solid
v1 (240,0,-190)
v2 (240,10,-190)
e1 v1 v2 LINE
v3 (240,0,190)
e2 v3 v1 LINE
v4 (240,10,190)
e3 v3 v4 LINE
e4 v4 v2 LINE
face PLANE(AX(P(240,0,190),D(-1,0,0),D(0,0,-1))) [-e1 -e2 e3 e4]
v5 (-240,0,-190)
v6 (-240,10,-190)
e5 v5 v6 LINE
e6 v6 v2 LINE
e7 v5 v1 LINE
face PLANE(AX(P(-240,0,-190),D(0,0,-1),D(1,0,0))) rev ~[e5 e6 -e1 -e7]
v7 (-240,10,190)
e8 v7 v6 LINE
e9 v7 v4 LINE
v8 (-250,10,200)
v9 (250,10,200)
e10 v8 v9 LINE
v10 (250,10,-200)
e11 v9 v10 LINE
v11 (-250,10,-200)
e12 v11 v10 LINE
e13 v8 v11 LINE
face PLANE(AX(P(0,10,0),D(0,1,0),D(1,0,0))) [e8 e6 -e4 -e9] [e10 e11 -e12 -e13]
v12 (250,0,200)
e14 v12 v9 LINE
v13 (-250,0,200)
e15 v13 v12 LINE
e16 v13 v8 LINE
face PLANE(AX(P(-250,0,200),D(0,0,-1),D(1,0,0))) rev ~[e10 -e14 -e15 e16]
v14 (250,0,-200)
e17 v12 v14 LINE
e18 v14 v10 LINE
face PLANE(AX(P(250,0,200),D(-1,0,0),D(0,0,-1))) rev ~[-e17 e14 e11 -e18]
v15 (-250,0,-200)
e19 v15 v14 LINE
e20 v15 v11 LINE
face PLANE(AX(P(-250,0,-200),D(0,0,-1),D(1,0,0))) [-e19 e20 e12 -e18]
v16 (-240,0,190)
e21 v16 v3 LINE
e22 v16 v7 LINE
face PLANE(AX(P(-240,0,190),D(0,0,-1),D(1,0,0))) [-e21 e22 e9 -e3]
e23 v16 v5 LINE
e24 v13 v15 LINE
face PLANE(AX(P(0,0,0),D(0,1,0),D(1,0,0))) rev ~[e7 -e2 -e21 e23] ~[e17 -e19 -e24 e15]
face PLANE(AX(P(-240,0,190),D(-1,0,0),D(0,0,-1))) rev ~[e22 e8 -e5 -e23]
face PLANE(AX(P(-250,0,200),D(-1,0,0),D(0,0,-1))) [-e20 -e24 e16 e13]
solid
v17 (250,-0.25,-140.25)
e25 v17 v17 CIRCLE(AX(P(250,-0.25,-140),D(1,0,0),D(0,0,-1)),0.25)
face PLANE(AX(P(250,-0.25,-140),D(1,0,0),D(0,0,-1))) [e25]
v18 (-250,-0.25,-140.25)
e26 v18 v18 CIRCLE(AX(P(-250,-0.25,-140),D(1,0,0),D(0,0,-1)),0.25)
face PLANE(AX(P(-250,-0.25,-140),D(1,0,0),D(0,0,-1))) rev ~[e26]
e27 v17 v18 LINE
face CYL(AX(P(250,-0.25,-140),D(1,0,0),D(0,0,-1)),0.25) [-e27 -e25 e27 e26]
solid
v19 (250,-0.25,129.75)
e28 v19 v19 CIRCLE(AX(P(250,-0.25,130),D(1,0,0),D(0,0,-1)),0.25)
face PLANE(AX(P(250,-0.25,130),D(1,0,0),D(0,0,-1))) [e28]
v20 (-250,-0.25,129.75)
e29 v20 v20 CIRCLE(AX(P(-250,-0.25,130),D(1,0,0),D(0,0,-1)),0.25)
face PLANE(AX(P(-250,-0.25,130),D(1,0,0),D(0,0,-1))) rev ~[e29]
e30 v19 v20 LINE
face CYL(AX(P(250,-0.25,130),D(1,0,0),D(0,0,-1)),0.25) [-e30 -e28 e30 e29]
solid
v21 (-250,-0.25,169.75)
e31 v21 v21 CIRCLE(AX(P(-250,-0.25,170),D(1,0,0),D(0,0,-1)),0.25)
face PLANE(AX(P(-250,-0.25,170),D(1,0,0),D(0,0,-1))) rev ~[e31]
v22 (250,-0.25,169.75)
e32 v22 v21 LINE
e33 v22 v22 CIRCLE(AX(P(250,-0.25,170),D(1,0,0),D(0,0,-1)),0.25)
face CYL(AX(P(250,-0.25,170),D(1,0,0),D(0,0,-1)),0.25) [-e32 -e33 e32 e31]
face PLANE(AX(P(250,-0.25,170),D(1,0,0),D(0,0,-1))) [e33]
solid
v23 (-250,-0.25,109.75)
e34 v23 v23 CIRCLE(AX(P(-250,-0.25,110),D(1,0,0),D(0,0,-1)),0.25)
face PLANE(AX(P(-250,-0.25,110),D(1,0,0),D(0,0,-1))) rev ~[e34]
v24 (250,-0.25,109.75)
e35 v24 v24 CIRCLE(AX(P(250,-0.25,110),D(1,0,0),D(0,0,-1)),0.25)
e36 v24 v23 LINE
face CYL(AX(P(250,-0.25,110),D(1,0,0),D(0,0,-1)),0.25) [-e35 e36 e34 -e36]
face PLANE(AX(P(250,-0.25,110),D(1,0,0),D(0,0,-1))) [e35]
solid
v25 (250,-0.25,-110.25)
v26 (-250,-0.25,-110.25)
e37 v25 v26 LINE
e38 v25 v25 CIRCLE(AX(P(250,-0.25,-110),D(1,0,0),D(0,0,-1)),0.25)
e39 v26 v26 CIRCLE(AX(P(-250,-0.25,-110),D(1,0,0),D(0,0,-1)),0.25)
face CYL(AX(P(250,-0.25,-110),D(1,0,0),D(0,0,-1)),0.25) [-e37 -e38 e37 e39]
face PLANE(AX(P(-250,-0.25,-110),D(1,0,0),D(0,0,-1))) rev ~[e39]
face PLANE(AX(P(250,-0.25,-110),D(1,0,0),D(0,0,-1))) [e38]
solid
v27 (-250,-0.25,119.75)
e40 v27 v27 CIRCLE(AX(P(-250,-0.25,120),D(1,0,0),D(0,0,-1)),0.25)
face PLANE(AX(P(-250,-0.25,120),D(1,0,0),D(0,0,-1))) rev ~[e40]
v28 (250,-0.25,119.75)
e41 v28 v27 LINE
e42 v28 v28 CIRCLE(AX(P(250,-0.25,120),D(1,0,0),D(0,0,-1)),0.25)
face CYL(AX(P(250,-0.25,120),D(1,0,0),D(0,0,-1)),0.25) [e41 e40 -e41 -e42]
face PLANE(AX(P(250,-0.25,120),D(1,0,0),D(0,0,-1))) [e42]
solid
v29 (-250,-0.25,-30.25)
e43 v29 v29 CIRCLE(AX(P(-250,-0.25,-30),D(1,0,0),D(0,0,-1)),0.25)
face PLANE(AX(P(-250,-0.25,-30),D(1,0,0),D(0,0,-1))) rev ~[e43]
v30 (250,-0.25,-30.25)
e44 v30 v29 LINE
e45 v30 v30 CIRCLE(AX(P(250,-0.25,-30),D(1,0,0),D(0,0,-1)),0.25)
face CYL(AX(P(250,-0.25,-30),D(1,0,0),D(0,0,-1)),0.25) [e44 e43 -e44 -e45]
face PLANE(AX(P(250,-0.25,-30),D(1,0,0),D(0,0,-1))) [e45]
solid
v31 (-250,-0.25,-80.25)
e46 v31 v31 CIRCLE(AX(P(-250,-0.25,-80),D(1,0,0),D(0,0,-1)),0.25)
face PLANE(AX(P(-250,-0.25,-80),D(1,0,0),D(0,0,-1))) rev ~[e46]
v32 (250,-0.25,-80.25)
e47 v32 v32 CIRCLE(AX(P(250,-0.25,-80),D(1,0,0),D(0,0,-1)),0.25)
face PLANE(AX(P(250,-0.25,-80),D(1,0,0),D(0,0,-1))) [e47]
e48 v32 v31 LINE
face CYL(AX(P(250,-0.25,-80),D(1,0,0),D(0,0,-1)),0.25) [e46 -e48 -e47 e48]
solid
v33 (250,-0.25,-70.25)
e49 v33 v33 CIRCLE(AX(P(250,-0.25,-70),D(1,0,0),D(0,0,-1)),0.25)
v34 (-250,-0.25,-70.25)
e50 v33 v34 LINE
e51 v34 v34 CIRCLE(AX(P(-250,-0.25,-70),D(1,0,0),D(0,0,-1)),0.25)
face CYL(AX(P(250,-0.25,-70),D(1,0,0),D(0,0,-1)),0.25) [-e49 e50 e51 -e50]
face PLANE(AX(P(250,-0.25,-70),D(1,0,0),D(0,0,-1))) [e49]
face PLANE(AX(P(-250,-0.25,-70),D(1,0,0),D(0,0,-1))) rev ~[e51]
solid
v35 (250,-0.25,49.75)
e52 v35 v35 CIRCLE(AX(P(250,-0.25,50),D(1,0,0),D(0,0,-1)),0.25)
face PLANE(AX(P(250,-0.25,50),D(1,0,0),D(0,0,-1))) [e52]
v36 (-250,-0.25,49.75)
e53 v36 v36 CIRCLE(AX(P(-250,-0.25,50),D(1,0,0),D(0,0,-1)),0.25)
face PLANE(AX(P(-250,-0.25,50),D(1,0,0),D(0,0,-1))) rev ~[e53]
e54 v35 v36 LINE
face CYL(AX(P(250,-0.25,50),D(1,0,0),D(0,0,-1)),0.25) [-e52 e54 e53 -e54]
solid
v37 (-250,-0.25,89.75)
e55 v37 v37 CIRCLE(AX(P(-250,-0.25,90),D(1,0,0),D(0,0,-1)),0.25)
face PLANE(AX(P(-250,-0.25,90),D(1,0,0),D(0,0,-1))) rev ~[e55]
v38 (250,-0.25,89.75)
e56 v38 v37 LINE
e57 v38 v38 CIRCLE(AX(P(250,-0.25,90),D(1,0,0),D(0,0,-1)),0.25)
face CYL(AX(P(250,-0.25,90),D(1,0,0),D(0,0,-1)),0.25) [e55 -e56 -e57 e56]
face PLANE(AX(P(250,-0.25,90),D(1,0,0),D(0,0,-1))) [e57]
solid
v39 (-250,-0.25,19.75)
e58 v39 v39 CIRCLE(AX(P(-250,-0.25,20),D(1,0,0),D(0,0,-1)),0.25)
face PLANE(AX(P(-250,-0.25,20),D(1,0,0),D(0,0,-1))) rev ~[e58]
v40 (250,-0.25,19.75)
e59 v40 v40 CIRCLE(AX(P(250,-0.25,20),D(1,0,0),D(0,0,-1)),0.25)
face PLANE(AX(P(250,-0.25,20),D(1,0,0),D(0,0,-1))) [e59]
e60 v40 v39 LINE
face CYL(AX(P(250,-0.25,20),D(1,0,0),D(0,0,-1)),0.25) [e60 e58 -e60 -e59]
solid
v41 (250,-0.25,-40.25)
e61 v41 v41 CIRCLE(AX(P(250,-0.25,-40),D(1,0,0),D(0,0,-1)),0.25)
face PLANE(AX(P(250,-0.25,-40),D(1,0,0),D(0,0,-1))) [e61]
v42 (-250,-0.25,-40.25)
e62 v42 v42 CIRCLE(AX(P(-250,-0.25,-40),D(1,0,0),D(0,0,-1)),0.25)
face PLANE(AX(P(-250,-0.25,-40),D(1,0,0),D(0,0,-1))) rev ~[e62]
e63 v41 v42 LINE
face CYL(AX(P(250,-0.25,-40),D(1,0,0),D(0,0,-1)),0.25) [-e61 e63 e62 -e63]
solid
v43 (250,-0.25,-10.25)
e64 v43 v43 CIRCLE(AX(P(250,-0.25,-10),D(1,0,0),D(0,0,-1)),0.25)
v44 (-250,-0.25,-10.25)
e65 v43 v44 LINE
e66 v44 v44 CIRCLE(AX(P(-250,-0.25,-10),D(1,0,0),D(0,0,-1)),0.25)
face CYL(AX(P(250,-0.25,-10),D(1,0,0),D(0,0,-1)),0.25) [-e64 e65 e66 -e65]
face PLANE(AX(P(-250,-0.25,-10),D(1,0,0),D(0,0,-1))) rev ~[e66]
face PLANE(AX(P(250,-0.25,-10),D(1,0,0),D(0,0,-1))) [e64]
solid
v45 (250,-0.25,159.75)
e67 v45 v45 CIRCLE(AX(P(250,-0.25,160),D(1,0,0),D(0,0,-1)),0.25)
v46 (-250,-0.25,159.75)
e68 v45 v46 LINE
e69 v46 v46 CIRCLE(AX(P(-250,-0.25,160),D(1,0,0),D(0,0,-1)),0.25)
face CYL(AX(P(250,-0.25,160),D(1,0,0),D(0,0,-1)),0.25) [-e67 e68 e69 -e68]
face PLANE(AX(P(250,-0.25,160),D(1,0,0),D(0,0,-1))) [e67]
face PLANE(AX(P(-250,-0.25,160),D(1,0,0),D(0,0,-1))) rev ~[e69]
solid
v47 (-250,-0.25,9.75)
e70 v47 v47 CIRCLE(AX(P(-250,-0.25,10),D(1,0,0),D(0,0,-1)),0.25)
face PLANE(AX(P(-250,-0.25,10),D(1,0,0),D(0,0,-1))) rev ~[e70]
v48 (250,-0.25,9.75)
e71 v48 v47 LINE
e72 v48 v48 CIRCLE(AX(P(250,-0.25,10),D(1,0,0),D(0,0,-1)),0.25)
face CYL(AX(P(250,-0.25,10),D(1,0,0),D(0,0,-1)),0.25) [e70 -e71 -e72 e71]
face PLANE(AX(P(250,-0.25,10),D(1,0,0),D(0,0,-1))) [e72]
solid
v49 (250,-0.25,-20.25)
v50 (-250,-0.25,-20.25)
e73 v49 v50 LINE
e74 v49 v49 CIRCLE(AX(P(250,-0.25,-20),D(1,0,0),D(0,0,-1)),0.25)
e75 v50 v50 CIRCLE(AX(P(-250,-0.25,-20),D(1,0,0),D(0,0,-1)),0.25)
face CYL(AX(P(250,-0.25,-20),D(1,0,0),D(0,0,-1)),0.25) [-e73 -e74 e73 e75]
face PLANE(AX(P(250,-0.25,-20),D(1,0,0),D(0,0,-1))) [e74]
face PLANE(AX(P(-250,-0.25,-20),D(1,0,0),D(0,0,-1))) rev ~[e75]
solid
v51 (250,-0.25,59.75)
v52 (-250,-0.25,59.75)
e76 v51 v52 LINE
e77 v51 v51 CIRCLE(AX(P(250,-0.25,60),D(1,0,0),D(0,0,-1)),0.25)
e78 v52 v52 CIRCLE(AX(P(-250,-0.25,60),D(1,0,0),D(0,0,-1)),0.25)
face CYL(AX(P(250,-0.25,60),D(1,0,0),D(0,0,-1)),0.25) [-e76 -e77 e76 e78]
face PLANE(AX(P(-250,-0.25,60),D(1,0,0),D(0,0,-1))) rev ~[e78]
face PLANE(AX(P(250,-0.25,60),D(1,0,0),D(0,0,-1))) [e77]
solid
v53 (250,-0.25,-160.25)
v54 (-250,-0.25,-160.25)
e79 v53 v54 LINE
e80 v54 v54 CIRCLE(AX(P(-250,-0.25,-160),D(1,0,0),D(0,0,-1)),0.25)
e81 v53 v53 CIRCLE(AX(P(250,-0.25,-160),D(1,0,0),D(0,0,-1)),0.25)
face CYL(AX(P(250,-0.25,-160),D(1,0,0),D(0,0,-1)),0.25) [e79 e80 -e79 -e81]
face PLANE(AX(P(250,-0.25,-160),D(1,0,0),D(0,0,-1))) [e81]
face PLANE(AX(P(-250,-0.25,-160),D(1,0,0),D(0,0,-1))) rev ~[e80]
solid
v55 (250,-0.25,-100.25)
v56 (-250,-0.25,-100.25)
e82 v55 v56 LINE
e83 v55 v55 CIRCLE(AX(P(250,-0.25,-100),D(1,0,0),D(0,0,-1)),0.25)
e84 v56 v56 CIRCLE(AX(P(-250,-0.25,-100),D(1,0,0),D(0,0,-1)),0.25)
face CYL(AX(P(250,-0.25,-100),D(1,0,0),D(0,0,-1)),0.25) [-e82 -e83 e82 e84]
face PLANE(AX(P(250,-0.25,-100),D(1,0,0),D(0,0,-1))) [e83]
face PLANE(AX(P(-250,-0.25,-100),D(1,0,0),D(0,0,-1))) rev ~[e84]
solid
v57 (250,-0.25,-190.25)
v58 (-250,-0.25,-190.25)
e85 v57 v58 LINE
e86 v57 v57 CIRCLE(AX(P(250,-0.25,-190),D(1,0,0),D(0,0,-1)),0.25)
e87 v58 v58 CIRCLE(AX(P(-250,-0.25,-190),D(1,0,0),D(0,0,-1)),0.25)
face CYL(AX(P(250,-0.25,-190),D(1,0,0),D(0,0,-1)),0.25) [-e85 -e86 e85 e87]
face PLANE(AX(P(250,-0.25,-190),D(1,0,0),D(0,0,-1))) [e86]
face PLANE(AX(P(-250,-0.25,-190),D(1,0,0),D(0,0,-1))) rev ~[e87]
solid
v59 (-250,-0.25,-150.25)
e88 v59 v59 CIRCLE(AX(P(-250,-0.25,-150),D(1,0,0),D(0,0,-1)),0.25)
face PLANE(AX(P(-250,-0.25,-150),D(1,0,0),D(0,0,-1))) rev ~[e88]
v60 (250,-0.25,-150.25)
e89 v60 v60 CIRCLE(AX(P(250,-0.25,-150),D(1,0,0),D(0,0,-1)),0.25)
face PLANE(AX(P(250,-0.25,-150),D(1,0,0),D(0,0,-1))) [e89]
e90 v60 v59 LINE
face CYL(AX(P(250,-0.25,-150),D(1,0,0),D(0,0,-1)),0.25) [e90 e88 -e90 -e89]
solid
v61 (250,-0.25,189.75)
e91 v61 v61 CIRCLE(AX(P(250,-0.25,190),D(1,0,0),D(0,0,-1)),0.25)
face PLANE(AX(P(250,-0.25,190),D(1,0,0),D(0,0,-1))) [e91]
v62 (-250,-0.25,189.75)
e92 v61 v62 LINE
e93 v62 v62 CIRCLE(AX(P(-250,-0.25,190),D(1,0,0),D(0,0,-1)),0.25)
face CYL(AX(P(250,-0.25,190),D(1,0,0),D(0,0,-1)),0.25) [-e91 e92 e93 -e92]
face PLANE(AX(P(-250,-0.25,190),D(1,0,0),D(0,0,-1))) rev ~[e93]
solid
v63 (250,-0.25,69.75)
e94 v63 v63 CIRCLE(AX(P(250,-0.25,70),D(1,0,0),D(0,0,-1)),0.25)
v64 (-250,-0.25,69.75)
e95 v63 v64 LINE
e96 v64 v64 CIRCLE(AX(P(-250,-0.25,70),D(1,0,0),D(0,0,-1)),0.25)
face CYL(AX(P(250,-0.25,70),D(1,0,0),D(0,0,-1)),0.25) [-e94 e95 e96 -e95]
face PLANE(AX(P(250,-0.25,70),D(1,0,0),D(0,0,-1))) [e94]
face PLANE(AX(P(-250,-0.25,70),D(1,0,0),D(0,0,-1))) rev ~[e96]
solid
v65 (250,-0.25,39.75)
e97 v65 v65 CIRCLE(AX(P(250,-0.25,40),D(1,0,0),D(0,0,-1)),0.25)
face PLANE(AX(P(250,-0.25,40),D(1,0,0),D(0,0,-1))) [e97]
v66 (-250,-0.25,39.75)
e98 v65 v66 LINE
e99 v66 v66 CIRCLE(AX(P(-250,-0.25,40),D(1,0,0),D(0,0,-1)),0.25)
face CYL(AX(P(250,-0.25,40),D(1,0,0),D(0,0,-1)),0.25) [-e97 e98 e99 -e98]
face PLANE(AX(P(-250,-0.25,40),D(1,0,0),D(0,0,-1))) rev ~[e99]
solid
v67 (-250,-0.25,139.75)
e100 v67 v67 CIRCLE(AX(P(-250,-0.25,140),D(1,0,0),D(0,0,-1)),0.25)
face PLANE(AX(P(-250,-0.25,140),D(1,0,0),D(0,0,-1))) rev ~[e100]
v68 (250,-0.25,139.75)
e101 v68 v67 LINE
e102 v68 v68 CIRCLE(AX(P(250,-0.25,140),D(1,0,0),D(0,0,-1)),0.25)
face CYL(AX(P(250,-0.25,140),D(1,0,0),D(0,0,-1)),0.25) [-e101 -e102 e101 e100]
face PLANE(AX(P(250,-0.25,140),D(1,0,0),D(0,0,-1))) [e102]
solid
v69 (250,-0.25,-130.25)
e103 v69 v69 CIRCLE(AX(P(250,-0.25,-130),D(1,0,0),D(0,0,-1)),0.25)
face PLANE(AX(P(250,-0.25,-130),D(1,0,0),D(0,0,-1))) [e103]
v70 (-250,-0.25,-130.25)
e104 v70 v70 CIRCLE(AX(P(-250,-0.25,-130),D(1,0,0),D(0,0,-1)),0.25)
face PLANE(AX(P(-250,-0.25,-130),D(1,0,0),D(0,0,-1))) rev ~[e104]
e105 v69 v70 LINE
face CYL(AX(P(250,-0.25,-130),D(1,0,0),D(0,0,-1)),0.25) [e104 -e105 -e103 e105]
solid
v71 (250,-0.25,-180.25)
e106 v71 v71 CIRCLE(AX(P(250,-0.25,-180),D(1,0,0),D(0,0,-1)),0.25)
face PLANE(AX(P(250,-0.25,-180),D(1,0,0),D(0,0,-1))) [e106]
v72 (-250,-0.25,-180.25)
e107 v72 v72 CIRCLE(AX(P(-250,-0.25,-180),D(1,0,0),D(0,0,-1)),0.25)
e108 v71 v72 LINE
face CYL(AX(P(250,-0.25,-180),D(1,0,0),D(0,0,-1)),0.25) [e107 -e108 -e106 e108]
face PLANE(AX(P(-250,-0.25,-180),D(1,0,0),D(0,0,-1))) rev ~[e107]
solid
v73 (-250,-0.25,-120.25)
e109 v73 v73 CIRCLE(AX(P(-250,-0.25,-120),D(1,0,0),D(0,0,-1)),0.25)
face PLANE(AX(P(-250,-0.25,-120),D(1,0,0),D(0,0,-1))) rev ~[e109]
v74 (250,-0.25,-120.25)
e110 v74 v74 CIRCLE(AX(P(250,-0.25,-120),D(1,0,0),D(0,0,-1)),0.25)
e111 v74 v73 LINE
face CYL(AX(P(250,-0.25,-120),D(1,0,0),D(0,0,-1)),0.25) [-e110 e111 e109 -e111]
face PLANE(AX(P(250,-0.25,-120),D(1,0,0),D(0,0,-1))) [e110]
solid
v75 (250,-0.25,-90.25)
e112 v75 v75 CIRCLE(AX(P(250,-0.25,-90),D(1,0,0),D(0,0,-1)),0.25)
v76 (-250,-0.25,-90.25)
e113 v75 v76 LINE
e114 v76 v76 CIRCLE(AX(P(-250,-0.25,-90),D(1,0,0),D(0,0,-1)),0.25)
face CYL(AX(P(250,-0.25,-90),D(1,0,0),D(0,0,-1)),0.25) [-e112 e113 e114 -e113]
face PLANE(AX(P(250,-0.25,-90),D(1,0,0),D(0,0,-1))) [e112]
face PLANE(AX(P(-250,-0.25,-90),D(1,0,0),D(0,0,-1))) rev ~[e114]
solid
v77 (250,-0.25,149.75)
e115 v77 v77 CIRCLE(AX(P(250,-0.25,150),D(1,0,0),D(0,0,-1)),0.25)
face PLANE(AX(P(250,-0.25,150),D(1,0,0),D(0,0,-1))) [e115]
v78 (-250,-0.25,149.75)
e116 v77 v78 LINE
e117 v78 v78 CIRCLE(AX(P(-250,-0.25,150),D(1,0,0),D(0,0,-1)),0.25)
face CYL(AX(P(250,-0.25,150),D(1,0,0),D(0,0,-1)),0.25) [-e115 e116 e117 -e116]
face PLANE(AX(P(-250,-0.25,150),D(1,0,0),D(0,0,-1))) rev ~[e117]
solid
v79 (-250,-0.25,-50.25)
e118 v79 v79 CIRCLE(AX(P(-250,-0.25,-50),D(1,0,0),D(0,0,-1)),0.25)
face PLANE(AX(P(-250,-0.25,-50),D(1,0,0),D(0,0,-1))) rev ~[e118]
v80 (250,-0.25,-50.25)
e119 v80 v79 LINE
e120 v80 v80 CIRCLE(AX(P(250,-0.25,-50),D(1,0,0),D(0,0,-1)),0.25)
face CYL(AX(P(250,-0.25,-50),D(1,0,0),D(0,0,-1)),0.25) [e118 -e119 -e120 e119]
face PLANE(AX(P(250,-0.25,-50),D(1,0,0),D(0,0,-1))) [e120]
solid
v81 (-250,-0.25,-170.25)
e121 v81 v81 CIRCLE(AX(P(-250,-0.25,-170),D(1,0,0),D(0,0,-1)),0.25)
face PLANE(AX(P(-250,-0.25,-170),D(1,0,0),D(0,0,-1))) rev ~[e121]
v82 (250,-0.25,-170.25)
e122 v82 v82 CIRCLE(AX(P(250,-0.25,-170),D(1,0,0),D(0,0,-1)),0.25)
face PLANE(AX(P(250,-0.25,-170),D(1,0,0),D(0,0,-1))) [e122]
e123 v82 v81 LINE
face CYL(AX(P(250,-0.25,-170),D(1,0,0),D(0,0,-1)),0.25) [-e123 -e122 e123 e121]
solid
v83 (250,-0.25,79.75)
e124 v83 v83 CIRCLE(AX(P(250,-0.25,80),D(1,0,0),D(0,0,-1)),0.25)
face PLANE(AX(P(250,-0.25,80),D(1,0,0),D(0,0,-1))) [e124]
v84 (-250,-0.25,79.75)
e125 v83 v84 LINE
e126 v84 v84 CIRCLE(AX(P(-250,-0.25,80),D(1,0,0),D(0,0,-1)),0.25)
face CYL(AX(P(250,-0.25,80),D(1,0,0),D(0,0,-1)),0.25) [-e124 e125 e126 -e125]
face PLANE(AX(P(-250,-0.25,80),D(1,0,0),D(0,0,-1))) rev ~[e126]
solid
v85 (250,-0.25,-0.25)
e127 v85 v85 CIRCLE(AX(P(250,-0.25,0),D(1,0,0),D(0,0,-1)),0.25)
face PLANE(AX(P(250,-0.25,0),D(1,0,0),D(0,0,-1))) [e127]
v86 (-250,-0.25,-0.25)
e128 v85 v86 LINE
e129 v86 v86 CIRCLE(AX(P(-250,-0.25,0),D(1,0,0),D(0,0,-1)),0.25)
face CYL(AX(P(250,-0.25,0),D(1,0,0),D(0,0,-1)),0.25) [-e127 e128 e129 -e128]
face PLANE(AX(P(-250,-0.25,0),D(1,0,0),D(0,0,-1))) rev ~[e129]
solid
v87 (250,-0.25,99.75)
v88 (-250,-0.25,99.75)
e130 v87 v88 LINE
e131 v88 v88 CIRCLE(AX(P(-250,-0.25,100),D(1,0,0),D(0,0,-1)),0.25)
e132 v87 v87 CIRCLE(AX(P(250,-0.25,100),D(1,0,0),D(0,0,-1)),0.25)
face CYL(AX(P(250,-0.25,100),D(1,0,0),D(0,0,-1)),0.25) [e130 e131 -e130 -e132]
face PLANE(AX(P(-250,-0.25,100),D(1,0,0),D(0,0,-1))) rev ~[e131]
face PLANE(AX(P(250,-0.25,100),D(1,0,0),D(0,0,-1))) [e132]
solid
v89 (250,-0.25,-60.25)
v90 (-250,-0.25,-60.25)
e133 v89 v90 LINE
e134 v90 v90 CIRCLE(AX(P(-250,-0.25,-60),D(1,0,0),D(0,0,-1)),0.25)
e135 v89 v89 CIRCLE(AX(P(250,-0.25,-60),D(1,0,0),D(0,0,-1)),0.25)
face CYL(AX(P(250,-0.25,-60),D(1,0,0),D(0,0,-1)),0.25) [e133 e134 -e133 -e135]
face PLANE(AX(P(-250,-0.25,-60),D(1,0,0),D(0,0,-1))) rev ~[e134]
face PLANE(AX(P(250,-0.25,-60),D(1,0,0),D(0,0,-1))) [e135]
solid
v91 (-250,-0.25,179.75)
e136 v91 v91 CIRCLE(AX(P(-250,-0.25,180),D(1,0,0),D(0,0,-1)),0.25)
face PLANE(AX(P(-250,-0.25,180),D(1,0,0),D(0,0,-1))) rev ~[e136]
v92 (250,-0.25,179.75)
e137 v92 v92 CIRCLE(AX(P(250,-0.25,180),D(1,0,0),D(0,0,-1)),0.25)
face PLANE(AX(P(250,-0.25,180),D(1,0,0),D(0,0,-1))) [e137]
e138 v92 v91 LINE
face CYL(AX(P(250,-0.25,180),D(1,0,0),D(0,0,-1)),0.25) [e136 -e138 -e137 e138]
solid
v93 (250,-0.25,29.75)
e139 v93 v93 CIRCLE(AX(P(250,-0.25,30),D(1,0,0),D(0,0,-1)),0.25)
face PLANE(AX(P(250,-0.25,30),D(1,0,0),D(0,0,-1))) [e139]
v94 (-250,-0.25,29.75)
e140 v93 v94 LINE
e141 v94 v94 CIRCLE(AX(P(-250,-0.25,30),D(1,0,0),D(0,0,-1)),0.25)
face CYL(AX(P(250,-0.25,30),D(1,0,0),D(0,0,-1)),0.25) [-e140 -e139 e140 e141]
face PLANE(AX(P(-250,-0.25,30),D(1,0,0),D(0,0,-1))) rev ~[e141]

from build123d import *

# Parameters (mm, degrees)
SKETCH1_W              = 500
SKETCH1_H              = 400
SKETCH1_W_2            = 480
SKETCH1_H_2            = 380
BOSS_EXTRUDE1_DEPTH    = 10
SKETCH3_R              = 0.25
BOSS_EXTRUDE2_DEPTH    = 500
BOSS_EXTRUDE2_2_DEPTH  = 500
BOSS_EXTRUDE2_3_DEPTH  = 500
BOSS_EXTRUDE2_4_DEPTH  = 500
BOSS_EXTRUDE2_5_DEPTH  = 500
BOSS_EXTRUDE2_6_DEPTH  = 500
BOSS_EXTRUDE2_7_DEPTH  = 500
BOSS_EXTRUDE2_8_DEPTH  = 500
BOSS_EXTRUDE2_9_DEPTH  = 500
BOSS_EXTRUDE2_10_DEPTH = 500
BOSS_EXTRUDE2_11_DEPTH = 500
BOSS_EXTRUDE2_12_DEPTH = 500
BOSS_EXTRUDE2_13_DEPTH = 500
BOSS_EXTRUDE2_14_DEPTH = 500
BOSS_EXTRUDE2_15_DEPTH = 500
BOSS_EXTRUDE2_16_DEPTH = 500
BOSS_EXTRUDE2_17_DEPTH = 500
BOSS_EXTRUDE2_18_DEPTH = 500
BOSS_EXTRUDE2_19_DEPTH = 500
BOSS_EXTRUDE2_20_DEPTH = 500
BOSS_EXTRUDE2_21_DEPTH = 500
BOSS_EXTRUDE2_22_DEPTH = 500
BOSS_EXTRUDE2_23_DEPTH = 500
BOSS_EXTRUDE2_24_DEPTH = 500
BOSS_EXTRUDE2_25_DEPTH = 500
BOSS_EXTRUDE2_26_DEPTH = 500
BOSS_EXTRUDE2_27_DEPTH = 500
BOSS_EXTRUDE2_28_DEPTH = 500
BOSS_EXTRUDE2_29_DEPTH = 500
BOSS_EXTRUDE2_30_DEPTH = 500
BOSS_EXTRUDE2_31_DEPTH = 500
BOSS_EXTRUDE2_32_DEPTH = 500
BOSS_EXTRUDE2_33_DEPTH = 500
BOSS_EXTRUDE2_34_DEPTH = 500
BOSS_EXTRUDE2_35_DEPTH = 500
BOSS_EXTRUDE2_36_DEPTH = 500
BOSS_EXTRUDE2_37_DEPTH = 500
BOSS_EXTRUDE2_38_DEPTH = 500
BOSS_EXTRUDE2_39_DEPTH = 500


with BuildPart() as part:
    # Sketch1 → Boss-Extrude1 (new body)
    with BuildSketch(Plane(origin=(0, 0, 0), x_dir=(1, 0, 0), z_dir=(0, 1, 0))):
        Rectangle(SKETCH1_W, SKETCH1_H)
        Rectangle(SKETCH1_W_2, SKETCH1_H_2, mode=Mode.SUBTRACT)
    extrude(amount=BOSS_EXTRUDE1_DEPTH)


with BuildPart() as body_2:
    # Sketch3 → Boss-Extrude2 (new body)
    with BuildSketch(Plane(origin=(250, 0, 0), x_dir=(0, 0, -1), z_dir=(1, 0, 0))):
        with Locations((0, -0.25)):
            Circle(SKETCH3_R)
    extrude(amount=-BOSS_EXTRUDE2_DEPTH)


with BuildPart() as body_3:
    # Sketch3 → Boss-Extrude2 2 (new body)
    with BuildSketch(Plane(origin=(250, 0, 0), x_dir=(0, 0, -1), z_dir=(1, 0, 0))):
        with Locations((-10, -0.25)):
            Circle(SKETCH3_R)
    extrude(amount=-BOSS_EXTRUDE2_2_DEPTH)


with BuildPart() as body_4:
    # Sketch3 → Boss-Extrude2 3 (new body)
    with BuildSketch(Plane(origin=(250, 0, 0), x_dir=(0, 0, -1), z_dir=(1, 0, 0))):
        with Locations((-20, -0.25)):
            Circle(SKETCH3_R)
    extrude(amount=-BOSS_EXTRUDE2_3_DEPTH)


with BuildPart() as body_5:
    # Sketch3 → Boss-Extrude2 4 (new body)
    with BuildSketch(Plane(origin=(250, 0, 0), x_dir=(0, 0, -1), z_dir=(1, 0, 0))):
        with Locations((-30, -0.25)):
            Circle(SKETCH3_R)
    extrude(amount=-BOSS_EXTRUDE2_4_DEPTH)


with BuildPart() as body_6:
    # Sketch3 → Boss-Extrude2 5 (new body)
    with BuildSketch(Plane(origin=(250, 0, 0), x_dir=(0, 0, -1), z_dir=(1, 0, 0))):
        with Locations((-40, -0.25)):
            Circle(SKETCH3_R)
    extrude(amount=-BOSS_EXTRUDE2_5_DEPTH)


with BuildPart() as body_7:
    # Sketch3 → Boss-Extrude2 6 (new body)
    with BuildSketch(Plane(origin=(250, 0, 0), x_dir=(0, 0, -1), z_dir=(1, 0, 0))):
        with Locations((-50, -0.25)):
            Circle(SKETCH3_R)
    extrude(amount=-BOSS_EXTRUDE2_6_DEPTH)


with BuildPart() as body_8:
    # Sketch3 → Boss-Extrude2 7 (new body)
    with BuildSketch(Plane(origin=(250, 0, 0), x_dir=(0, 0, -1), z_dir=(1, 0, 0))):
        with Locations((-60, -0.25)):
            Circle(SKETCH3_R)
    extrude(amount=-BOSS_EXTRUDE2_7_DEPTH)


with BuildPart() as body_9:
    # Sketch3 → Boss-Extrude2 8 (new body)
    with BuildSketch(Plane(origin=(250, 0, 0), x_dir=(0, 0, -1), z_dir=(1, 0, 0))):
        with Locations((-70, -0.25)):
            Circle(SKETCH3_R)
    extrude(amount=-BOSS_EXTRUDE2_8_DEPTH)


with BuildPart() as body_10:
    # Sketch3 → Boss-Extrude2 9 (new body)
    with BuildSketch(Plane(origin=(250, 0, 0), x_dir=(0, 0, -1), z_dir=(1, 0, 0))):
        with Locations((-80, -0.25)):
            Circle(SKETCH3_R)
    extrude(amount=-BOSS_EXTRUDE2_9_DEPTH)


with BuildPart() as body_11:
    # Sketch3 → Boss-Extrude2 10 (new body)
    with BuildSketch(Plane(origin=(250, 0, 0), x_dir=(0, 0, -1), z_dir=(1, 0, 0))):
        with Locations((-90, -0.25)):
            Circle(SKETCH3_R)
    extrude(amount=-BOSS_EXTRUDE2_10_DEPTH)


with BuildPart() as body_12:
    # Sketch3 → Boss-Extrude2 11 (new body)
    with BuildSketch(Plane(origin=(250, 0, 0), x_dir=(0, 0, -1), z_dir=(1, 0, 0))):
        with Locations((-100, -0.25)):
            Circle(SKETCH3_R)
    extrude(amount=-BOSS_EXTRUDE2_11_DEPTH)


with BuildPart() as body_13:
    # Sketch3 → Boss-Extrude2 12 (new body)
    with BuildSketch(Plane(origin=(250, 0, 0), x_dir=(0, 0, -1), z_dir=(1, 0, 0))):
        with Locations((-110, -0.25)):
            Circle(SKETCH3_R)
    extrude(amount=-BOSS_EXTRUDE2_12_DEPTH)


with BuildPart() as body_14:
    # Sketch3 → Boss-Extrude2 13 (new body)
    with BuildSketch(Plane(origin=(250, 0, 0), x_dir=(0, 0, -1), z_dir=(1, 0, 0))):
        with Locations((-120, -0.25)):
            Circle(SKETCH3_R)
    extrude(amount=-BOSS_EXTRUDE2_13_DEPTH)


with BuildPart() as body_15:
    # Sketch3 → Boss-Extrude2 14 (new body)
    with BuildSketch(Plane(origin=(250, 0, 0), x_dir=(0, 0, -1), z_dir=(1, 0, 0))):
        with Locations((-130, -0.25)):
            Circle(SKETCH3_R)
    extrude(amount=-BOSS_EXTRUDE2_14_DEPTH)


with BuildPart() as body_16:
    # Sketch3 → Boss-Extrude2 15 (new body)
    with BuildSketch(Plane(origin=(250, 0, 0), x_dir=(0, 0, -1), z_dir=(1, 0, 0))):
        with Locations((-140, -0.25)):
            Circle(SKETCH3_R)
    extrude(amount=-BOSS_EXTRUDE2_15_DEPTH)


with BuildPart() as body_17:
    # Sketch3 → Boss-Extrude2 16 (new body)
    with BuildSketch(Plane(origin=(250, 0, 0), x_dir=(0, 0, -1), z_dir=(1, 0, 0))):
        with Locations((-150, -0.25)):
            Circle(SKETCH3_R)
    extrude(amount=-BOSS_EXTRUDE2_16_DEPTH)


with BuildPart() as body_18:
    # Sketch3 → Boss-Extrude2 17 (new body)
    with BuildSketch(Plane(origin=(250, 0, 0), x_dir=(0, 0, -1), z_dir=(1, 0, 0))):
        with Locations((-160, -0.25)):
            Circle(SKETCH3_R)
    extrude(amount=-BOSS_EXTRUDE2_17_DEPTH)


with BuildPart() as body_19:
    # Sketch3 → Boss-Extrude2 18 (new body)
    with BuildSketch(Plane(origin=(250, 0, 0), x_dir=(0, 0, -1), z_dir=(1, 0, 0))):
        with Locations((-170, -0.25)):
            Circle(SKETCH3_R)
    extrude(amount=-BOSS_EXTRUDE2_18_DEPTH)


with BuildPart() as body_20:
    # Sketch3 → Boss-Extrude2 19 (new body)
    with BuildSketch(Plane(origin=(250, 0, 0), x_dir=(0, 0, -1), z_dir=(1, 0, 0))):
        with Locations((-180, -0.25)):
            Circle(SKETCH3_R)
    extrude(amount=-BOSS_EXTRUDE2_19_DEPTH)


with BuildPart() as body_21:
    # Sketch3 → Boss-Extrude2 20 (new body)
    with BuildSketch(Plane(origin=(250, 0, 0), x_dir=(0, 0, -1), z_dir=(1, 0, 0))):
        with Locations((-190, -0.25)):
            Circle(SKETCH3_R)
    extrude(amount=-BOSS_EXTRUDE2_20_DEPTH)


with BuildPart() as body_22:
    # Sketch3 → Boss-Extrude2 21 (new body)
    with BuildSketch(Plane(origin=(250, 0, 0), x_dir=(0, 0, -1), z_dir=(1, 0, 0))):
        with Locations((10, -0.25)):
            Circle(SKETCH3_R)
    extrude(amount=-BOSS_EXTRUDE2_21_DEPTH)


with BuildPart() as body_23:
    # Sketch3 → Boss-Extrude2 22 (new body)
    with BuildSketch(Plane(origin=(250, 0, 0), x_dir=(0, 0, -1), z_dir=(1, 0, 0))):
        with Locations((20, -0.25)):
            Circle(SKETCH3_R)
    extrude(amount=-BOSS_EXTRUDE2_22_DEPTH)


with BuildPart() as body_24:
    # Sketch3 → Boss-Extrude2 23 (new body)
    with BuildSketch(Plane(origin=(250, 0, 0), x_dir=(0, 0, -1), z_dir=(1, 0, 0))):
        with Locations((30, -0.25)):
            Circle(SKETCH3_R)
    extrude(amount=-BOSS_EXTRUDE2_23_DEPTH)


with BuildPart() as body_25:
    # Sketch3 → Boss-Extrude2 24 (new body)
    with BuildSketch(Plane(origin=(250, 0, 0), x_dir=(0, 0, -1), z_dir=(1, 0, 0))):
        with Locations((40, -0.25)):
            Circle(SKETCH3_R)
    extrude(amount=-BOSS_EXTRUDE2_24_DEPTH)


with BuildPart() as body_26:
    # Sketch3 → Boss-Extrude2 25 (new body)
    with BuildSketch(Plane(origin=(250, 0, 0), x_dir=(0, 0, -1), z_dir=(1, 0, 0))):
        with Locations((50, -0.25)):
            Circle(SKETCH3_R)
    extrude(amount=-BOSS_EXTRUDE2_25_DEPTH)


with BuildPart() as body_27:
    # Sketch3 → Boss-Extrude2 26 (new body)
    with BuildSketch(Plane(origin=(250, 0, 0), x_dir=(0, 0, -1), z_dir=(1, 0, 0))):
        with Locations((60, -0.25)):
            Circle(SKETCH3_R)
    extrude(amount=-BOSS_EXTRUDE2_26_DEPTH)


with BuildPart() as body_28:
    # Sketch3 → Boss-Extrude2 27 (new body)
    with BuildSketch(Plane(origin=(250, 0, 0), x_dir=(0, 0, -1), z_dir=(1, 0, 0))):
        with Locations((70, -0.25)):
            Circle(SKETCH3_R)
    extrude(amount=-BOSS_EXTRUDE2_27_DEPTH)


with BuildPart() as body_29:
    # Sketch3 → Boss-Extrude2 28 (new body)
    with BuildSketch(Plane(origin=(250, 0, 0), x_dir=(0, 0, -1), z_dir=(1, 0, 0))):
        with Locations((80, -0.25)):
            Circle(SKETCH3_R)
    extrude(amount=-BOSS_EXTRUDE2_28_DEPTH)


with BuildPart() as body_30:
    # Sketch3 → Boss-Extrude2 29 (new body)
    with BuildSketch(Plane(origin=(250, 0, 0), x_dir=(0, 0, -1), z_dir=(1, 0, 0))):
        with Locations((90, -0.25)):
            Circle(SKETCH3_R)
    extrude(amount=-BOSS_EXTRUDE2_29_DEPTH)


with BuildPart() as body_31:
    # Sketch3 → Boss-Extrude2 30 (new body)
    with BuildSketch(Plane(origin=(250, 0, 0), x_dir=(0, 0, -1), z_dir=(1, 0, 0))):
        with Locations((100, -0.25)):
            Circle(SKETCH3_R)
    extrude(amount=-BOSS_EXTRUDE2_30_DEPTH)


with BuildPart() as body_32:
    # Sketch3 → Boss-Extrude2 31 (new body)
    with BuildSketch(Plane(origin=(250, 0, 0), x_dir=(0, 0, -1), z_dir=(1, 0, 0))):
        with Locations((110, -0.25)):
            Circle(SKETCH3_R)
    extrude(amount=-BOSS_EXTRUDE2_31_DEPTH)


with BuildPart() as body_33:
    # Sketch3 → Boss-Extrude2 32 (new body)
    with BuildSketch(Plane(origin=(250, 0, 0), x_dir=(0, 0, -1), z_dir=(1, 0, 0))):
        with Locations((120, -0.25)):
            Circle(SKETCH3_R)
    extrude(amount=-BOSS_EXTRUDE2_32_DEPTH)


with BuildPart() as body_34:
    # Sketch3 → Boss-Extrude2 33 (new body)
    with BuildSketch(Plane(origin=(250, 0, 0), x_dir=(0, 0, -1), z_dir=(1, 0, 0))):
        with Locations((130, -0.25)):
            Circle(SKETCH3_R)
    extrude(amount=-BOSS_EXTRUDE2_33_DEPTH)


with BuildPart() as body_35:
    # Sketch3 → Boss-Extrude2 34 (new body)
    with BuildSketch(Plane(origin=(250, 0, 0), x_dir=(0, 0, -1), z_dir=(1, 0, 0))):
        with Locations((140, -0.25)):
            Circle(SKETCH3_R)
    extrude(amount=-BOSS_EXTRUDE2_34_DEPTH)


with BuildPart() as body_36:
    # Sketch3 → Boss-Extrude2 35 (new body)
    with BuildSketch(Plane(origin=(250, 0, 0), x_dir=(0, 0, -1), z_dir=(1, 0, 0))):
        with Locations((150, -0.25)):
            Circle(SKETCH3_R)
    extrude(amount=-BOSS_EXTRUDE2_35_DEPTH)


with BuildPart() as body_37:
    # Sketch3 → Boss-Extrude2 36 (new body)
    with BuildSketch(Plane(origin=(250, 0, 0), x_dir=(0, 0, -1), z_dir=(1, 0, 0))):
        with Locations((160, -0.25)):
            Circle(SKETCH3_R)
    extrude(amount=-BOSS_EXTRUDE2_36_DEPTH)


with BuildPart() as body_38:
    # Sketch3 → Boss-Extrude2 37 (new body)
    with BuildSketch(Plane(origin=(250, 0, 0), x_dir=(0, 0, -1), z_dir=(1, 0, 0))):
        with Locations((170, -0.25)):
            Circle(SKETCH3_R)
    extrude(amount=-BOSS_EXTRUDE2_37_DEPTH)


with BuildPart() as body_39:
    # Sketch3 → Boss-Extrude2 38 (new body)
    with BuildSketch(Plane(origin=(250, 0, 0), x_dir=(0, 0, -1), z_dir=(1, 0, 0))):
        with Locations((180, -0.25)):
            Circle(SKETCH3_R)
    extrude(amount=-BOSS_EXTRUDE2_38_DEPTH)


with BuildPart() as body_40:
    # Sketch3 → Boss-Extrude2 39 (new body)
    with BuildSketch(Plane(origin=(250, 0, 0), x_dir=(0, 0, -1), z_dir=(1, 0, 0))):
        with Locations((190, -0.25)):
            Circle(SKETCH3_R)
    extrude(amount=-BOSS_EXTRUDE2_39_DEPTH)


solid = Compound([part.part, body_2.part, body_3.part, body_4.part, body_5.part, body_6.part, body_7.part, body_8.part, body_9.part, body_10.part, body_11.part, body_12.part, body_13.part, body_14.part, body_15.part, body_16.part, body_17.part, body_18.part, body_19.part, body_20.part, body_21.part, body_22.part, body_23.part, body_24.part, body_25.part, body_26.part, body_27.part, body_28.part, body_29.part, body_30.part, body_31.part, body_32.part, body_33.part, body_34.part, body_35.part, body_36.part, body_37.part, body_38.part, body_39.part, body_40.part])
